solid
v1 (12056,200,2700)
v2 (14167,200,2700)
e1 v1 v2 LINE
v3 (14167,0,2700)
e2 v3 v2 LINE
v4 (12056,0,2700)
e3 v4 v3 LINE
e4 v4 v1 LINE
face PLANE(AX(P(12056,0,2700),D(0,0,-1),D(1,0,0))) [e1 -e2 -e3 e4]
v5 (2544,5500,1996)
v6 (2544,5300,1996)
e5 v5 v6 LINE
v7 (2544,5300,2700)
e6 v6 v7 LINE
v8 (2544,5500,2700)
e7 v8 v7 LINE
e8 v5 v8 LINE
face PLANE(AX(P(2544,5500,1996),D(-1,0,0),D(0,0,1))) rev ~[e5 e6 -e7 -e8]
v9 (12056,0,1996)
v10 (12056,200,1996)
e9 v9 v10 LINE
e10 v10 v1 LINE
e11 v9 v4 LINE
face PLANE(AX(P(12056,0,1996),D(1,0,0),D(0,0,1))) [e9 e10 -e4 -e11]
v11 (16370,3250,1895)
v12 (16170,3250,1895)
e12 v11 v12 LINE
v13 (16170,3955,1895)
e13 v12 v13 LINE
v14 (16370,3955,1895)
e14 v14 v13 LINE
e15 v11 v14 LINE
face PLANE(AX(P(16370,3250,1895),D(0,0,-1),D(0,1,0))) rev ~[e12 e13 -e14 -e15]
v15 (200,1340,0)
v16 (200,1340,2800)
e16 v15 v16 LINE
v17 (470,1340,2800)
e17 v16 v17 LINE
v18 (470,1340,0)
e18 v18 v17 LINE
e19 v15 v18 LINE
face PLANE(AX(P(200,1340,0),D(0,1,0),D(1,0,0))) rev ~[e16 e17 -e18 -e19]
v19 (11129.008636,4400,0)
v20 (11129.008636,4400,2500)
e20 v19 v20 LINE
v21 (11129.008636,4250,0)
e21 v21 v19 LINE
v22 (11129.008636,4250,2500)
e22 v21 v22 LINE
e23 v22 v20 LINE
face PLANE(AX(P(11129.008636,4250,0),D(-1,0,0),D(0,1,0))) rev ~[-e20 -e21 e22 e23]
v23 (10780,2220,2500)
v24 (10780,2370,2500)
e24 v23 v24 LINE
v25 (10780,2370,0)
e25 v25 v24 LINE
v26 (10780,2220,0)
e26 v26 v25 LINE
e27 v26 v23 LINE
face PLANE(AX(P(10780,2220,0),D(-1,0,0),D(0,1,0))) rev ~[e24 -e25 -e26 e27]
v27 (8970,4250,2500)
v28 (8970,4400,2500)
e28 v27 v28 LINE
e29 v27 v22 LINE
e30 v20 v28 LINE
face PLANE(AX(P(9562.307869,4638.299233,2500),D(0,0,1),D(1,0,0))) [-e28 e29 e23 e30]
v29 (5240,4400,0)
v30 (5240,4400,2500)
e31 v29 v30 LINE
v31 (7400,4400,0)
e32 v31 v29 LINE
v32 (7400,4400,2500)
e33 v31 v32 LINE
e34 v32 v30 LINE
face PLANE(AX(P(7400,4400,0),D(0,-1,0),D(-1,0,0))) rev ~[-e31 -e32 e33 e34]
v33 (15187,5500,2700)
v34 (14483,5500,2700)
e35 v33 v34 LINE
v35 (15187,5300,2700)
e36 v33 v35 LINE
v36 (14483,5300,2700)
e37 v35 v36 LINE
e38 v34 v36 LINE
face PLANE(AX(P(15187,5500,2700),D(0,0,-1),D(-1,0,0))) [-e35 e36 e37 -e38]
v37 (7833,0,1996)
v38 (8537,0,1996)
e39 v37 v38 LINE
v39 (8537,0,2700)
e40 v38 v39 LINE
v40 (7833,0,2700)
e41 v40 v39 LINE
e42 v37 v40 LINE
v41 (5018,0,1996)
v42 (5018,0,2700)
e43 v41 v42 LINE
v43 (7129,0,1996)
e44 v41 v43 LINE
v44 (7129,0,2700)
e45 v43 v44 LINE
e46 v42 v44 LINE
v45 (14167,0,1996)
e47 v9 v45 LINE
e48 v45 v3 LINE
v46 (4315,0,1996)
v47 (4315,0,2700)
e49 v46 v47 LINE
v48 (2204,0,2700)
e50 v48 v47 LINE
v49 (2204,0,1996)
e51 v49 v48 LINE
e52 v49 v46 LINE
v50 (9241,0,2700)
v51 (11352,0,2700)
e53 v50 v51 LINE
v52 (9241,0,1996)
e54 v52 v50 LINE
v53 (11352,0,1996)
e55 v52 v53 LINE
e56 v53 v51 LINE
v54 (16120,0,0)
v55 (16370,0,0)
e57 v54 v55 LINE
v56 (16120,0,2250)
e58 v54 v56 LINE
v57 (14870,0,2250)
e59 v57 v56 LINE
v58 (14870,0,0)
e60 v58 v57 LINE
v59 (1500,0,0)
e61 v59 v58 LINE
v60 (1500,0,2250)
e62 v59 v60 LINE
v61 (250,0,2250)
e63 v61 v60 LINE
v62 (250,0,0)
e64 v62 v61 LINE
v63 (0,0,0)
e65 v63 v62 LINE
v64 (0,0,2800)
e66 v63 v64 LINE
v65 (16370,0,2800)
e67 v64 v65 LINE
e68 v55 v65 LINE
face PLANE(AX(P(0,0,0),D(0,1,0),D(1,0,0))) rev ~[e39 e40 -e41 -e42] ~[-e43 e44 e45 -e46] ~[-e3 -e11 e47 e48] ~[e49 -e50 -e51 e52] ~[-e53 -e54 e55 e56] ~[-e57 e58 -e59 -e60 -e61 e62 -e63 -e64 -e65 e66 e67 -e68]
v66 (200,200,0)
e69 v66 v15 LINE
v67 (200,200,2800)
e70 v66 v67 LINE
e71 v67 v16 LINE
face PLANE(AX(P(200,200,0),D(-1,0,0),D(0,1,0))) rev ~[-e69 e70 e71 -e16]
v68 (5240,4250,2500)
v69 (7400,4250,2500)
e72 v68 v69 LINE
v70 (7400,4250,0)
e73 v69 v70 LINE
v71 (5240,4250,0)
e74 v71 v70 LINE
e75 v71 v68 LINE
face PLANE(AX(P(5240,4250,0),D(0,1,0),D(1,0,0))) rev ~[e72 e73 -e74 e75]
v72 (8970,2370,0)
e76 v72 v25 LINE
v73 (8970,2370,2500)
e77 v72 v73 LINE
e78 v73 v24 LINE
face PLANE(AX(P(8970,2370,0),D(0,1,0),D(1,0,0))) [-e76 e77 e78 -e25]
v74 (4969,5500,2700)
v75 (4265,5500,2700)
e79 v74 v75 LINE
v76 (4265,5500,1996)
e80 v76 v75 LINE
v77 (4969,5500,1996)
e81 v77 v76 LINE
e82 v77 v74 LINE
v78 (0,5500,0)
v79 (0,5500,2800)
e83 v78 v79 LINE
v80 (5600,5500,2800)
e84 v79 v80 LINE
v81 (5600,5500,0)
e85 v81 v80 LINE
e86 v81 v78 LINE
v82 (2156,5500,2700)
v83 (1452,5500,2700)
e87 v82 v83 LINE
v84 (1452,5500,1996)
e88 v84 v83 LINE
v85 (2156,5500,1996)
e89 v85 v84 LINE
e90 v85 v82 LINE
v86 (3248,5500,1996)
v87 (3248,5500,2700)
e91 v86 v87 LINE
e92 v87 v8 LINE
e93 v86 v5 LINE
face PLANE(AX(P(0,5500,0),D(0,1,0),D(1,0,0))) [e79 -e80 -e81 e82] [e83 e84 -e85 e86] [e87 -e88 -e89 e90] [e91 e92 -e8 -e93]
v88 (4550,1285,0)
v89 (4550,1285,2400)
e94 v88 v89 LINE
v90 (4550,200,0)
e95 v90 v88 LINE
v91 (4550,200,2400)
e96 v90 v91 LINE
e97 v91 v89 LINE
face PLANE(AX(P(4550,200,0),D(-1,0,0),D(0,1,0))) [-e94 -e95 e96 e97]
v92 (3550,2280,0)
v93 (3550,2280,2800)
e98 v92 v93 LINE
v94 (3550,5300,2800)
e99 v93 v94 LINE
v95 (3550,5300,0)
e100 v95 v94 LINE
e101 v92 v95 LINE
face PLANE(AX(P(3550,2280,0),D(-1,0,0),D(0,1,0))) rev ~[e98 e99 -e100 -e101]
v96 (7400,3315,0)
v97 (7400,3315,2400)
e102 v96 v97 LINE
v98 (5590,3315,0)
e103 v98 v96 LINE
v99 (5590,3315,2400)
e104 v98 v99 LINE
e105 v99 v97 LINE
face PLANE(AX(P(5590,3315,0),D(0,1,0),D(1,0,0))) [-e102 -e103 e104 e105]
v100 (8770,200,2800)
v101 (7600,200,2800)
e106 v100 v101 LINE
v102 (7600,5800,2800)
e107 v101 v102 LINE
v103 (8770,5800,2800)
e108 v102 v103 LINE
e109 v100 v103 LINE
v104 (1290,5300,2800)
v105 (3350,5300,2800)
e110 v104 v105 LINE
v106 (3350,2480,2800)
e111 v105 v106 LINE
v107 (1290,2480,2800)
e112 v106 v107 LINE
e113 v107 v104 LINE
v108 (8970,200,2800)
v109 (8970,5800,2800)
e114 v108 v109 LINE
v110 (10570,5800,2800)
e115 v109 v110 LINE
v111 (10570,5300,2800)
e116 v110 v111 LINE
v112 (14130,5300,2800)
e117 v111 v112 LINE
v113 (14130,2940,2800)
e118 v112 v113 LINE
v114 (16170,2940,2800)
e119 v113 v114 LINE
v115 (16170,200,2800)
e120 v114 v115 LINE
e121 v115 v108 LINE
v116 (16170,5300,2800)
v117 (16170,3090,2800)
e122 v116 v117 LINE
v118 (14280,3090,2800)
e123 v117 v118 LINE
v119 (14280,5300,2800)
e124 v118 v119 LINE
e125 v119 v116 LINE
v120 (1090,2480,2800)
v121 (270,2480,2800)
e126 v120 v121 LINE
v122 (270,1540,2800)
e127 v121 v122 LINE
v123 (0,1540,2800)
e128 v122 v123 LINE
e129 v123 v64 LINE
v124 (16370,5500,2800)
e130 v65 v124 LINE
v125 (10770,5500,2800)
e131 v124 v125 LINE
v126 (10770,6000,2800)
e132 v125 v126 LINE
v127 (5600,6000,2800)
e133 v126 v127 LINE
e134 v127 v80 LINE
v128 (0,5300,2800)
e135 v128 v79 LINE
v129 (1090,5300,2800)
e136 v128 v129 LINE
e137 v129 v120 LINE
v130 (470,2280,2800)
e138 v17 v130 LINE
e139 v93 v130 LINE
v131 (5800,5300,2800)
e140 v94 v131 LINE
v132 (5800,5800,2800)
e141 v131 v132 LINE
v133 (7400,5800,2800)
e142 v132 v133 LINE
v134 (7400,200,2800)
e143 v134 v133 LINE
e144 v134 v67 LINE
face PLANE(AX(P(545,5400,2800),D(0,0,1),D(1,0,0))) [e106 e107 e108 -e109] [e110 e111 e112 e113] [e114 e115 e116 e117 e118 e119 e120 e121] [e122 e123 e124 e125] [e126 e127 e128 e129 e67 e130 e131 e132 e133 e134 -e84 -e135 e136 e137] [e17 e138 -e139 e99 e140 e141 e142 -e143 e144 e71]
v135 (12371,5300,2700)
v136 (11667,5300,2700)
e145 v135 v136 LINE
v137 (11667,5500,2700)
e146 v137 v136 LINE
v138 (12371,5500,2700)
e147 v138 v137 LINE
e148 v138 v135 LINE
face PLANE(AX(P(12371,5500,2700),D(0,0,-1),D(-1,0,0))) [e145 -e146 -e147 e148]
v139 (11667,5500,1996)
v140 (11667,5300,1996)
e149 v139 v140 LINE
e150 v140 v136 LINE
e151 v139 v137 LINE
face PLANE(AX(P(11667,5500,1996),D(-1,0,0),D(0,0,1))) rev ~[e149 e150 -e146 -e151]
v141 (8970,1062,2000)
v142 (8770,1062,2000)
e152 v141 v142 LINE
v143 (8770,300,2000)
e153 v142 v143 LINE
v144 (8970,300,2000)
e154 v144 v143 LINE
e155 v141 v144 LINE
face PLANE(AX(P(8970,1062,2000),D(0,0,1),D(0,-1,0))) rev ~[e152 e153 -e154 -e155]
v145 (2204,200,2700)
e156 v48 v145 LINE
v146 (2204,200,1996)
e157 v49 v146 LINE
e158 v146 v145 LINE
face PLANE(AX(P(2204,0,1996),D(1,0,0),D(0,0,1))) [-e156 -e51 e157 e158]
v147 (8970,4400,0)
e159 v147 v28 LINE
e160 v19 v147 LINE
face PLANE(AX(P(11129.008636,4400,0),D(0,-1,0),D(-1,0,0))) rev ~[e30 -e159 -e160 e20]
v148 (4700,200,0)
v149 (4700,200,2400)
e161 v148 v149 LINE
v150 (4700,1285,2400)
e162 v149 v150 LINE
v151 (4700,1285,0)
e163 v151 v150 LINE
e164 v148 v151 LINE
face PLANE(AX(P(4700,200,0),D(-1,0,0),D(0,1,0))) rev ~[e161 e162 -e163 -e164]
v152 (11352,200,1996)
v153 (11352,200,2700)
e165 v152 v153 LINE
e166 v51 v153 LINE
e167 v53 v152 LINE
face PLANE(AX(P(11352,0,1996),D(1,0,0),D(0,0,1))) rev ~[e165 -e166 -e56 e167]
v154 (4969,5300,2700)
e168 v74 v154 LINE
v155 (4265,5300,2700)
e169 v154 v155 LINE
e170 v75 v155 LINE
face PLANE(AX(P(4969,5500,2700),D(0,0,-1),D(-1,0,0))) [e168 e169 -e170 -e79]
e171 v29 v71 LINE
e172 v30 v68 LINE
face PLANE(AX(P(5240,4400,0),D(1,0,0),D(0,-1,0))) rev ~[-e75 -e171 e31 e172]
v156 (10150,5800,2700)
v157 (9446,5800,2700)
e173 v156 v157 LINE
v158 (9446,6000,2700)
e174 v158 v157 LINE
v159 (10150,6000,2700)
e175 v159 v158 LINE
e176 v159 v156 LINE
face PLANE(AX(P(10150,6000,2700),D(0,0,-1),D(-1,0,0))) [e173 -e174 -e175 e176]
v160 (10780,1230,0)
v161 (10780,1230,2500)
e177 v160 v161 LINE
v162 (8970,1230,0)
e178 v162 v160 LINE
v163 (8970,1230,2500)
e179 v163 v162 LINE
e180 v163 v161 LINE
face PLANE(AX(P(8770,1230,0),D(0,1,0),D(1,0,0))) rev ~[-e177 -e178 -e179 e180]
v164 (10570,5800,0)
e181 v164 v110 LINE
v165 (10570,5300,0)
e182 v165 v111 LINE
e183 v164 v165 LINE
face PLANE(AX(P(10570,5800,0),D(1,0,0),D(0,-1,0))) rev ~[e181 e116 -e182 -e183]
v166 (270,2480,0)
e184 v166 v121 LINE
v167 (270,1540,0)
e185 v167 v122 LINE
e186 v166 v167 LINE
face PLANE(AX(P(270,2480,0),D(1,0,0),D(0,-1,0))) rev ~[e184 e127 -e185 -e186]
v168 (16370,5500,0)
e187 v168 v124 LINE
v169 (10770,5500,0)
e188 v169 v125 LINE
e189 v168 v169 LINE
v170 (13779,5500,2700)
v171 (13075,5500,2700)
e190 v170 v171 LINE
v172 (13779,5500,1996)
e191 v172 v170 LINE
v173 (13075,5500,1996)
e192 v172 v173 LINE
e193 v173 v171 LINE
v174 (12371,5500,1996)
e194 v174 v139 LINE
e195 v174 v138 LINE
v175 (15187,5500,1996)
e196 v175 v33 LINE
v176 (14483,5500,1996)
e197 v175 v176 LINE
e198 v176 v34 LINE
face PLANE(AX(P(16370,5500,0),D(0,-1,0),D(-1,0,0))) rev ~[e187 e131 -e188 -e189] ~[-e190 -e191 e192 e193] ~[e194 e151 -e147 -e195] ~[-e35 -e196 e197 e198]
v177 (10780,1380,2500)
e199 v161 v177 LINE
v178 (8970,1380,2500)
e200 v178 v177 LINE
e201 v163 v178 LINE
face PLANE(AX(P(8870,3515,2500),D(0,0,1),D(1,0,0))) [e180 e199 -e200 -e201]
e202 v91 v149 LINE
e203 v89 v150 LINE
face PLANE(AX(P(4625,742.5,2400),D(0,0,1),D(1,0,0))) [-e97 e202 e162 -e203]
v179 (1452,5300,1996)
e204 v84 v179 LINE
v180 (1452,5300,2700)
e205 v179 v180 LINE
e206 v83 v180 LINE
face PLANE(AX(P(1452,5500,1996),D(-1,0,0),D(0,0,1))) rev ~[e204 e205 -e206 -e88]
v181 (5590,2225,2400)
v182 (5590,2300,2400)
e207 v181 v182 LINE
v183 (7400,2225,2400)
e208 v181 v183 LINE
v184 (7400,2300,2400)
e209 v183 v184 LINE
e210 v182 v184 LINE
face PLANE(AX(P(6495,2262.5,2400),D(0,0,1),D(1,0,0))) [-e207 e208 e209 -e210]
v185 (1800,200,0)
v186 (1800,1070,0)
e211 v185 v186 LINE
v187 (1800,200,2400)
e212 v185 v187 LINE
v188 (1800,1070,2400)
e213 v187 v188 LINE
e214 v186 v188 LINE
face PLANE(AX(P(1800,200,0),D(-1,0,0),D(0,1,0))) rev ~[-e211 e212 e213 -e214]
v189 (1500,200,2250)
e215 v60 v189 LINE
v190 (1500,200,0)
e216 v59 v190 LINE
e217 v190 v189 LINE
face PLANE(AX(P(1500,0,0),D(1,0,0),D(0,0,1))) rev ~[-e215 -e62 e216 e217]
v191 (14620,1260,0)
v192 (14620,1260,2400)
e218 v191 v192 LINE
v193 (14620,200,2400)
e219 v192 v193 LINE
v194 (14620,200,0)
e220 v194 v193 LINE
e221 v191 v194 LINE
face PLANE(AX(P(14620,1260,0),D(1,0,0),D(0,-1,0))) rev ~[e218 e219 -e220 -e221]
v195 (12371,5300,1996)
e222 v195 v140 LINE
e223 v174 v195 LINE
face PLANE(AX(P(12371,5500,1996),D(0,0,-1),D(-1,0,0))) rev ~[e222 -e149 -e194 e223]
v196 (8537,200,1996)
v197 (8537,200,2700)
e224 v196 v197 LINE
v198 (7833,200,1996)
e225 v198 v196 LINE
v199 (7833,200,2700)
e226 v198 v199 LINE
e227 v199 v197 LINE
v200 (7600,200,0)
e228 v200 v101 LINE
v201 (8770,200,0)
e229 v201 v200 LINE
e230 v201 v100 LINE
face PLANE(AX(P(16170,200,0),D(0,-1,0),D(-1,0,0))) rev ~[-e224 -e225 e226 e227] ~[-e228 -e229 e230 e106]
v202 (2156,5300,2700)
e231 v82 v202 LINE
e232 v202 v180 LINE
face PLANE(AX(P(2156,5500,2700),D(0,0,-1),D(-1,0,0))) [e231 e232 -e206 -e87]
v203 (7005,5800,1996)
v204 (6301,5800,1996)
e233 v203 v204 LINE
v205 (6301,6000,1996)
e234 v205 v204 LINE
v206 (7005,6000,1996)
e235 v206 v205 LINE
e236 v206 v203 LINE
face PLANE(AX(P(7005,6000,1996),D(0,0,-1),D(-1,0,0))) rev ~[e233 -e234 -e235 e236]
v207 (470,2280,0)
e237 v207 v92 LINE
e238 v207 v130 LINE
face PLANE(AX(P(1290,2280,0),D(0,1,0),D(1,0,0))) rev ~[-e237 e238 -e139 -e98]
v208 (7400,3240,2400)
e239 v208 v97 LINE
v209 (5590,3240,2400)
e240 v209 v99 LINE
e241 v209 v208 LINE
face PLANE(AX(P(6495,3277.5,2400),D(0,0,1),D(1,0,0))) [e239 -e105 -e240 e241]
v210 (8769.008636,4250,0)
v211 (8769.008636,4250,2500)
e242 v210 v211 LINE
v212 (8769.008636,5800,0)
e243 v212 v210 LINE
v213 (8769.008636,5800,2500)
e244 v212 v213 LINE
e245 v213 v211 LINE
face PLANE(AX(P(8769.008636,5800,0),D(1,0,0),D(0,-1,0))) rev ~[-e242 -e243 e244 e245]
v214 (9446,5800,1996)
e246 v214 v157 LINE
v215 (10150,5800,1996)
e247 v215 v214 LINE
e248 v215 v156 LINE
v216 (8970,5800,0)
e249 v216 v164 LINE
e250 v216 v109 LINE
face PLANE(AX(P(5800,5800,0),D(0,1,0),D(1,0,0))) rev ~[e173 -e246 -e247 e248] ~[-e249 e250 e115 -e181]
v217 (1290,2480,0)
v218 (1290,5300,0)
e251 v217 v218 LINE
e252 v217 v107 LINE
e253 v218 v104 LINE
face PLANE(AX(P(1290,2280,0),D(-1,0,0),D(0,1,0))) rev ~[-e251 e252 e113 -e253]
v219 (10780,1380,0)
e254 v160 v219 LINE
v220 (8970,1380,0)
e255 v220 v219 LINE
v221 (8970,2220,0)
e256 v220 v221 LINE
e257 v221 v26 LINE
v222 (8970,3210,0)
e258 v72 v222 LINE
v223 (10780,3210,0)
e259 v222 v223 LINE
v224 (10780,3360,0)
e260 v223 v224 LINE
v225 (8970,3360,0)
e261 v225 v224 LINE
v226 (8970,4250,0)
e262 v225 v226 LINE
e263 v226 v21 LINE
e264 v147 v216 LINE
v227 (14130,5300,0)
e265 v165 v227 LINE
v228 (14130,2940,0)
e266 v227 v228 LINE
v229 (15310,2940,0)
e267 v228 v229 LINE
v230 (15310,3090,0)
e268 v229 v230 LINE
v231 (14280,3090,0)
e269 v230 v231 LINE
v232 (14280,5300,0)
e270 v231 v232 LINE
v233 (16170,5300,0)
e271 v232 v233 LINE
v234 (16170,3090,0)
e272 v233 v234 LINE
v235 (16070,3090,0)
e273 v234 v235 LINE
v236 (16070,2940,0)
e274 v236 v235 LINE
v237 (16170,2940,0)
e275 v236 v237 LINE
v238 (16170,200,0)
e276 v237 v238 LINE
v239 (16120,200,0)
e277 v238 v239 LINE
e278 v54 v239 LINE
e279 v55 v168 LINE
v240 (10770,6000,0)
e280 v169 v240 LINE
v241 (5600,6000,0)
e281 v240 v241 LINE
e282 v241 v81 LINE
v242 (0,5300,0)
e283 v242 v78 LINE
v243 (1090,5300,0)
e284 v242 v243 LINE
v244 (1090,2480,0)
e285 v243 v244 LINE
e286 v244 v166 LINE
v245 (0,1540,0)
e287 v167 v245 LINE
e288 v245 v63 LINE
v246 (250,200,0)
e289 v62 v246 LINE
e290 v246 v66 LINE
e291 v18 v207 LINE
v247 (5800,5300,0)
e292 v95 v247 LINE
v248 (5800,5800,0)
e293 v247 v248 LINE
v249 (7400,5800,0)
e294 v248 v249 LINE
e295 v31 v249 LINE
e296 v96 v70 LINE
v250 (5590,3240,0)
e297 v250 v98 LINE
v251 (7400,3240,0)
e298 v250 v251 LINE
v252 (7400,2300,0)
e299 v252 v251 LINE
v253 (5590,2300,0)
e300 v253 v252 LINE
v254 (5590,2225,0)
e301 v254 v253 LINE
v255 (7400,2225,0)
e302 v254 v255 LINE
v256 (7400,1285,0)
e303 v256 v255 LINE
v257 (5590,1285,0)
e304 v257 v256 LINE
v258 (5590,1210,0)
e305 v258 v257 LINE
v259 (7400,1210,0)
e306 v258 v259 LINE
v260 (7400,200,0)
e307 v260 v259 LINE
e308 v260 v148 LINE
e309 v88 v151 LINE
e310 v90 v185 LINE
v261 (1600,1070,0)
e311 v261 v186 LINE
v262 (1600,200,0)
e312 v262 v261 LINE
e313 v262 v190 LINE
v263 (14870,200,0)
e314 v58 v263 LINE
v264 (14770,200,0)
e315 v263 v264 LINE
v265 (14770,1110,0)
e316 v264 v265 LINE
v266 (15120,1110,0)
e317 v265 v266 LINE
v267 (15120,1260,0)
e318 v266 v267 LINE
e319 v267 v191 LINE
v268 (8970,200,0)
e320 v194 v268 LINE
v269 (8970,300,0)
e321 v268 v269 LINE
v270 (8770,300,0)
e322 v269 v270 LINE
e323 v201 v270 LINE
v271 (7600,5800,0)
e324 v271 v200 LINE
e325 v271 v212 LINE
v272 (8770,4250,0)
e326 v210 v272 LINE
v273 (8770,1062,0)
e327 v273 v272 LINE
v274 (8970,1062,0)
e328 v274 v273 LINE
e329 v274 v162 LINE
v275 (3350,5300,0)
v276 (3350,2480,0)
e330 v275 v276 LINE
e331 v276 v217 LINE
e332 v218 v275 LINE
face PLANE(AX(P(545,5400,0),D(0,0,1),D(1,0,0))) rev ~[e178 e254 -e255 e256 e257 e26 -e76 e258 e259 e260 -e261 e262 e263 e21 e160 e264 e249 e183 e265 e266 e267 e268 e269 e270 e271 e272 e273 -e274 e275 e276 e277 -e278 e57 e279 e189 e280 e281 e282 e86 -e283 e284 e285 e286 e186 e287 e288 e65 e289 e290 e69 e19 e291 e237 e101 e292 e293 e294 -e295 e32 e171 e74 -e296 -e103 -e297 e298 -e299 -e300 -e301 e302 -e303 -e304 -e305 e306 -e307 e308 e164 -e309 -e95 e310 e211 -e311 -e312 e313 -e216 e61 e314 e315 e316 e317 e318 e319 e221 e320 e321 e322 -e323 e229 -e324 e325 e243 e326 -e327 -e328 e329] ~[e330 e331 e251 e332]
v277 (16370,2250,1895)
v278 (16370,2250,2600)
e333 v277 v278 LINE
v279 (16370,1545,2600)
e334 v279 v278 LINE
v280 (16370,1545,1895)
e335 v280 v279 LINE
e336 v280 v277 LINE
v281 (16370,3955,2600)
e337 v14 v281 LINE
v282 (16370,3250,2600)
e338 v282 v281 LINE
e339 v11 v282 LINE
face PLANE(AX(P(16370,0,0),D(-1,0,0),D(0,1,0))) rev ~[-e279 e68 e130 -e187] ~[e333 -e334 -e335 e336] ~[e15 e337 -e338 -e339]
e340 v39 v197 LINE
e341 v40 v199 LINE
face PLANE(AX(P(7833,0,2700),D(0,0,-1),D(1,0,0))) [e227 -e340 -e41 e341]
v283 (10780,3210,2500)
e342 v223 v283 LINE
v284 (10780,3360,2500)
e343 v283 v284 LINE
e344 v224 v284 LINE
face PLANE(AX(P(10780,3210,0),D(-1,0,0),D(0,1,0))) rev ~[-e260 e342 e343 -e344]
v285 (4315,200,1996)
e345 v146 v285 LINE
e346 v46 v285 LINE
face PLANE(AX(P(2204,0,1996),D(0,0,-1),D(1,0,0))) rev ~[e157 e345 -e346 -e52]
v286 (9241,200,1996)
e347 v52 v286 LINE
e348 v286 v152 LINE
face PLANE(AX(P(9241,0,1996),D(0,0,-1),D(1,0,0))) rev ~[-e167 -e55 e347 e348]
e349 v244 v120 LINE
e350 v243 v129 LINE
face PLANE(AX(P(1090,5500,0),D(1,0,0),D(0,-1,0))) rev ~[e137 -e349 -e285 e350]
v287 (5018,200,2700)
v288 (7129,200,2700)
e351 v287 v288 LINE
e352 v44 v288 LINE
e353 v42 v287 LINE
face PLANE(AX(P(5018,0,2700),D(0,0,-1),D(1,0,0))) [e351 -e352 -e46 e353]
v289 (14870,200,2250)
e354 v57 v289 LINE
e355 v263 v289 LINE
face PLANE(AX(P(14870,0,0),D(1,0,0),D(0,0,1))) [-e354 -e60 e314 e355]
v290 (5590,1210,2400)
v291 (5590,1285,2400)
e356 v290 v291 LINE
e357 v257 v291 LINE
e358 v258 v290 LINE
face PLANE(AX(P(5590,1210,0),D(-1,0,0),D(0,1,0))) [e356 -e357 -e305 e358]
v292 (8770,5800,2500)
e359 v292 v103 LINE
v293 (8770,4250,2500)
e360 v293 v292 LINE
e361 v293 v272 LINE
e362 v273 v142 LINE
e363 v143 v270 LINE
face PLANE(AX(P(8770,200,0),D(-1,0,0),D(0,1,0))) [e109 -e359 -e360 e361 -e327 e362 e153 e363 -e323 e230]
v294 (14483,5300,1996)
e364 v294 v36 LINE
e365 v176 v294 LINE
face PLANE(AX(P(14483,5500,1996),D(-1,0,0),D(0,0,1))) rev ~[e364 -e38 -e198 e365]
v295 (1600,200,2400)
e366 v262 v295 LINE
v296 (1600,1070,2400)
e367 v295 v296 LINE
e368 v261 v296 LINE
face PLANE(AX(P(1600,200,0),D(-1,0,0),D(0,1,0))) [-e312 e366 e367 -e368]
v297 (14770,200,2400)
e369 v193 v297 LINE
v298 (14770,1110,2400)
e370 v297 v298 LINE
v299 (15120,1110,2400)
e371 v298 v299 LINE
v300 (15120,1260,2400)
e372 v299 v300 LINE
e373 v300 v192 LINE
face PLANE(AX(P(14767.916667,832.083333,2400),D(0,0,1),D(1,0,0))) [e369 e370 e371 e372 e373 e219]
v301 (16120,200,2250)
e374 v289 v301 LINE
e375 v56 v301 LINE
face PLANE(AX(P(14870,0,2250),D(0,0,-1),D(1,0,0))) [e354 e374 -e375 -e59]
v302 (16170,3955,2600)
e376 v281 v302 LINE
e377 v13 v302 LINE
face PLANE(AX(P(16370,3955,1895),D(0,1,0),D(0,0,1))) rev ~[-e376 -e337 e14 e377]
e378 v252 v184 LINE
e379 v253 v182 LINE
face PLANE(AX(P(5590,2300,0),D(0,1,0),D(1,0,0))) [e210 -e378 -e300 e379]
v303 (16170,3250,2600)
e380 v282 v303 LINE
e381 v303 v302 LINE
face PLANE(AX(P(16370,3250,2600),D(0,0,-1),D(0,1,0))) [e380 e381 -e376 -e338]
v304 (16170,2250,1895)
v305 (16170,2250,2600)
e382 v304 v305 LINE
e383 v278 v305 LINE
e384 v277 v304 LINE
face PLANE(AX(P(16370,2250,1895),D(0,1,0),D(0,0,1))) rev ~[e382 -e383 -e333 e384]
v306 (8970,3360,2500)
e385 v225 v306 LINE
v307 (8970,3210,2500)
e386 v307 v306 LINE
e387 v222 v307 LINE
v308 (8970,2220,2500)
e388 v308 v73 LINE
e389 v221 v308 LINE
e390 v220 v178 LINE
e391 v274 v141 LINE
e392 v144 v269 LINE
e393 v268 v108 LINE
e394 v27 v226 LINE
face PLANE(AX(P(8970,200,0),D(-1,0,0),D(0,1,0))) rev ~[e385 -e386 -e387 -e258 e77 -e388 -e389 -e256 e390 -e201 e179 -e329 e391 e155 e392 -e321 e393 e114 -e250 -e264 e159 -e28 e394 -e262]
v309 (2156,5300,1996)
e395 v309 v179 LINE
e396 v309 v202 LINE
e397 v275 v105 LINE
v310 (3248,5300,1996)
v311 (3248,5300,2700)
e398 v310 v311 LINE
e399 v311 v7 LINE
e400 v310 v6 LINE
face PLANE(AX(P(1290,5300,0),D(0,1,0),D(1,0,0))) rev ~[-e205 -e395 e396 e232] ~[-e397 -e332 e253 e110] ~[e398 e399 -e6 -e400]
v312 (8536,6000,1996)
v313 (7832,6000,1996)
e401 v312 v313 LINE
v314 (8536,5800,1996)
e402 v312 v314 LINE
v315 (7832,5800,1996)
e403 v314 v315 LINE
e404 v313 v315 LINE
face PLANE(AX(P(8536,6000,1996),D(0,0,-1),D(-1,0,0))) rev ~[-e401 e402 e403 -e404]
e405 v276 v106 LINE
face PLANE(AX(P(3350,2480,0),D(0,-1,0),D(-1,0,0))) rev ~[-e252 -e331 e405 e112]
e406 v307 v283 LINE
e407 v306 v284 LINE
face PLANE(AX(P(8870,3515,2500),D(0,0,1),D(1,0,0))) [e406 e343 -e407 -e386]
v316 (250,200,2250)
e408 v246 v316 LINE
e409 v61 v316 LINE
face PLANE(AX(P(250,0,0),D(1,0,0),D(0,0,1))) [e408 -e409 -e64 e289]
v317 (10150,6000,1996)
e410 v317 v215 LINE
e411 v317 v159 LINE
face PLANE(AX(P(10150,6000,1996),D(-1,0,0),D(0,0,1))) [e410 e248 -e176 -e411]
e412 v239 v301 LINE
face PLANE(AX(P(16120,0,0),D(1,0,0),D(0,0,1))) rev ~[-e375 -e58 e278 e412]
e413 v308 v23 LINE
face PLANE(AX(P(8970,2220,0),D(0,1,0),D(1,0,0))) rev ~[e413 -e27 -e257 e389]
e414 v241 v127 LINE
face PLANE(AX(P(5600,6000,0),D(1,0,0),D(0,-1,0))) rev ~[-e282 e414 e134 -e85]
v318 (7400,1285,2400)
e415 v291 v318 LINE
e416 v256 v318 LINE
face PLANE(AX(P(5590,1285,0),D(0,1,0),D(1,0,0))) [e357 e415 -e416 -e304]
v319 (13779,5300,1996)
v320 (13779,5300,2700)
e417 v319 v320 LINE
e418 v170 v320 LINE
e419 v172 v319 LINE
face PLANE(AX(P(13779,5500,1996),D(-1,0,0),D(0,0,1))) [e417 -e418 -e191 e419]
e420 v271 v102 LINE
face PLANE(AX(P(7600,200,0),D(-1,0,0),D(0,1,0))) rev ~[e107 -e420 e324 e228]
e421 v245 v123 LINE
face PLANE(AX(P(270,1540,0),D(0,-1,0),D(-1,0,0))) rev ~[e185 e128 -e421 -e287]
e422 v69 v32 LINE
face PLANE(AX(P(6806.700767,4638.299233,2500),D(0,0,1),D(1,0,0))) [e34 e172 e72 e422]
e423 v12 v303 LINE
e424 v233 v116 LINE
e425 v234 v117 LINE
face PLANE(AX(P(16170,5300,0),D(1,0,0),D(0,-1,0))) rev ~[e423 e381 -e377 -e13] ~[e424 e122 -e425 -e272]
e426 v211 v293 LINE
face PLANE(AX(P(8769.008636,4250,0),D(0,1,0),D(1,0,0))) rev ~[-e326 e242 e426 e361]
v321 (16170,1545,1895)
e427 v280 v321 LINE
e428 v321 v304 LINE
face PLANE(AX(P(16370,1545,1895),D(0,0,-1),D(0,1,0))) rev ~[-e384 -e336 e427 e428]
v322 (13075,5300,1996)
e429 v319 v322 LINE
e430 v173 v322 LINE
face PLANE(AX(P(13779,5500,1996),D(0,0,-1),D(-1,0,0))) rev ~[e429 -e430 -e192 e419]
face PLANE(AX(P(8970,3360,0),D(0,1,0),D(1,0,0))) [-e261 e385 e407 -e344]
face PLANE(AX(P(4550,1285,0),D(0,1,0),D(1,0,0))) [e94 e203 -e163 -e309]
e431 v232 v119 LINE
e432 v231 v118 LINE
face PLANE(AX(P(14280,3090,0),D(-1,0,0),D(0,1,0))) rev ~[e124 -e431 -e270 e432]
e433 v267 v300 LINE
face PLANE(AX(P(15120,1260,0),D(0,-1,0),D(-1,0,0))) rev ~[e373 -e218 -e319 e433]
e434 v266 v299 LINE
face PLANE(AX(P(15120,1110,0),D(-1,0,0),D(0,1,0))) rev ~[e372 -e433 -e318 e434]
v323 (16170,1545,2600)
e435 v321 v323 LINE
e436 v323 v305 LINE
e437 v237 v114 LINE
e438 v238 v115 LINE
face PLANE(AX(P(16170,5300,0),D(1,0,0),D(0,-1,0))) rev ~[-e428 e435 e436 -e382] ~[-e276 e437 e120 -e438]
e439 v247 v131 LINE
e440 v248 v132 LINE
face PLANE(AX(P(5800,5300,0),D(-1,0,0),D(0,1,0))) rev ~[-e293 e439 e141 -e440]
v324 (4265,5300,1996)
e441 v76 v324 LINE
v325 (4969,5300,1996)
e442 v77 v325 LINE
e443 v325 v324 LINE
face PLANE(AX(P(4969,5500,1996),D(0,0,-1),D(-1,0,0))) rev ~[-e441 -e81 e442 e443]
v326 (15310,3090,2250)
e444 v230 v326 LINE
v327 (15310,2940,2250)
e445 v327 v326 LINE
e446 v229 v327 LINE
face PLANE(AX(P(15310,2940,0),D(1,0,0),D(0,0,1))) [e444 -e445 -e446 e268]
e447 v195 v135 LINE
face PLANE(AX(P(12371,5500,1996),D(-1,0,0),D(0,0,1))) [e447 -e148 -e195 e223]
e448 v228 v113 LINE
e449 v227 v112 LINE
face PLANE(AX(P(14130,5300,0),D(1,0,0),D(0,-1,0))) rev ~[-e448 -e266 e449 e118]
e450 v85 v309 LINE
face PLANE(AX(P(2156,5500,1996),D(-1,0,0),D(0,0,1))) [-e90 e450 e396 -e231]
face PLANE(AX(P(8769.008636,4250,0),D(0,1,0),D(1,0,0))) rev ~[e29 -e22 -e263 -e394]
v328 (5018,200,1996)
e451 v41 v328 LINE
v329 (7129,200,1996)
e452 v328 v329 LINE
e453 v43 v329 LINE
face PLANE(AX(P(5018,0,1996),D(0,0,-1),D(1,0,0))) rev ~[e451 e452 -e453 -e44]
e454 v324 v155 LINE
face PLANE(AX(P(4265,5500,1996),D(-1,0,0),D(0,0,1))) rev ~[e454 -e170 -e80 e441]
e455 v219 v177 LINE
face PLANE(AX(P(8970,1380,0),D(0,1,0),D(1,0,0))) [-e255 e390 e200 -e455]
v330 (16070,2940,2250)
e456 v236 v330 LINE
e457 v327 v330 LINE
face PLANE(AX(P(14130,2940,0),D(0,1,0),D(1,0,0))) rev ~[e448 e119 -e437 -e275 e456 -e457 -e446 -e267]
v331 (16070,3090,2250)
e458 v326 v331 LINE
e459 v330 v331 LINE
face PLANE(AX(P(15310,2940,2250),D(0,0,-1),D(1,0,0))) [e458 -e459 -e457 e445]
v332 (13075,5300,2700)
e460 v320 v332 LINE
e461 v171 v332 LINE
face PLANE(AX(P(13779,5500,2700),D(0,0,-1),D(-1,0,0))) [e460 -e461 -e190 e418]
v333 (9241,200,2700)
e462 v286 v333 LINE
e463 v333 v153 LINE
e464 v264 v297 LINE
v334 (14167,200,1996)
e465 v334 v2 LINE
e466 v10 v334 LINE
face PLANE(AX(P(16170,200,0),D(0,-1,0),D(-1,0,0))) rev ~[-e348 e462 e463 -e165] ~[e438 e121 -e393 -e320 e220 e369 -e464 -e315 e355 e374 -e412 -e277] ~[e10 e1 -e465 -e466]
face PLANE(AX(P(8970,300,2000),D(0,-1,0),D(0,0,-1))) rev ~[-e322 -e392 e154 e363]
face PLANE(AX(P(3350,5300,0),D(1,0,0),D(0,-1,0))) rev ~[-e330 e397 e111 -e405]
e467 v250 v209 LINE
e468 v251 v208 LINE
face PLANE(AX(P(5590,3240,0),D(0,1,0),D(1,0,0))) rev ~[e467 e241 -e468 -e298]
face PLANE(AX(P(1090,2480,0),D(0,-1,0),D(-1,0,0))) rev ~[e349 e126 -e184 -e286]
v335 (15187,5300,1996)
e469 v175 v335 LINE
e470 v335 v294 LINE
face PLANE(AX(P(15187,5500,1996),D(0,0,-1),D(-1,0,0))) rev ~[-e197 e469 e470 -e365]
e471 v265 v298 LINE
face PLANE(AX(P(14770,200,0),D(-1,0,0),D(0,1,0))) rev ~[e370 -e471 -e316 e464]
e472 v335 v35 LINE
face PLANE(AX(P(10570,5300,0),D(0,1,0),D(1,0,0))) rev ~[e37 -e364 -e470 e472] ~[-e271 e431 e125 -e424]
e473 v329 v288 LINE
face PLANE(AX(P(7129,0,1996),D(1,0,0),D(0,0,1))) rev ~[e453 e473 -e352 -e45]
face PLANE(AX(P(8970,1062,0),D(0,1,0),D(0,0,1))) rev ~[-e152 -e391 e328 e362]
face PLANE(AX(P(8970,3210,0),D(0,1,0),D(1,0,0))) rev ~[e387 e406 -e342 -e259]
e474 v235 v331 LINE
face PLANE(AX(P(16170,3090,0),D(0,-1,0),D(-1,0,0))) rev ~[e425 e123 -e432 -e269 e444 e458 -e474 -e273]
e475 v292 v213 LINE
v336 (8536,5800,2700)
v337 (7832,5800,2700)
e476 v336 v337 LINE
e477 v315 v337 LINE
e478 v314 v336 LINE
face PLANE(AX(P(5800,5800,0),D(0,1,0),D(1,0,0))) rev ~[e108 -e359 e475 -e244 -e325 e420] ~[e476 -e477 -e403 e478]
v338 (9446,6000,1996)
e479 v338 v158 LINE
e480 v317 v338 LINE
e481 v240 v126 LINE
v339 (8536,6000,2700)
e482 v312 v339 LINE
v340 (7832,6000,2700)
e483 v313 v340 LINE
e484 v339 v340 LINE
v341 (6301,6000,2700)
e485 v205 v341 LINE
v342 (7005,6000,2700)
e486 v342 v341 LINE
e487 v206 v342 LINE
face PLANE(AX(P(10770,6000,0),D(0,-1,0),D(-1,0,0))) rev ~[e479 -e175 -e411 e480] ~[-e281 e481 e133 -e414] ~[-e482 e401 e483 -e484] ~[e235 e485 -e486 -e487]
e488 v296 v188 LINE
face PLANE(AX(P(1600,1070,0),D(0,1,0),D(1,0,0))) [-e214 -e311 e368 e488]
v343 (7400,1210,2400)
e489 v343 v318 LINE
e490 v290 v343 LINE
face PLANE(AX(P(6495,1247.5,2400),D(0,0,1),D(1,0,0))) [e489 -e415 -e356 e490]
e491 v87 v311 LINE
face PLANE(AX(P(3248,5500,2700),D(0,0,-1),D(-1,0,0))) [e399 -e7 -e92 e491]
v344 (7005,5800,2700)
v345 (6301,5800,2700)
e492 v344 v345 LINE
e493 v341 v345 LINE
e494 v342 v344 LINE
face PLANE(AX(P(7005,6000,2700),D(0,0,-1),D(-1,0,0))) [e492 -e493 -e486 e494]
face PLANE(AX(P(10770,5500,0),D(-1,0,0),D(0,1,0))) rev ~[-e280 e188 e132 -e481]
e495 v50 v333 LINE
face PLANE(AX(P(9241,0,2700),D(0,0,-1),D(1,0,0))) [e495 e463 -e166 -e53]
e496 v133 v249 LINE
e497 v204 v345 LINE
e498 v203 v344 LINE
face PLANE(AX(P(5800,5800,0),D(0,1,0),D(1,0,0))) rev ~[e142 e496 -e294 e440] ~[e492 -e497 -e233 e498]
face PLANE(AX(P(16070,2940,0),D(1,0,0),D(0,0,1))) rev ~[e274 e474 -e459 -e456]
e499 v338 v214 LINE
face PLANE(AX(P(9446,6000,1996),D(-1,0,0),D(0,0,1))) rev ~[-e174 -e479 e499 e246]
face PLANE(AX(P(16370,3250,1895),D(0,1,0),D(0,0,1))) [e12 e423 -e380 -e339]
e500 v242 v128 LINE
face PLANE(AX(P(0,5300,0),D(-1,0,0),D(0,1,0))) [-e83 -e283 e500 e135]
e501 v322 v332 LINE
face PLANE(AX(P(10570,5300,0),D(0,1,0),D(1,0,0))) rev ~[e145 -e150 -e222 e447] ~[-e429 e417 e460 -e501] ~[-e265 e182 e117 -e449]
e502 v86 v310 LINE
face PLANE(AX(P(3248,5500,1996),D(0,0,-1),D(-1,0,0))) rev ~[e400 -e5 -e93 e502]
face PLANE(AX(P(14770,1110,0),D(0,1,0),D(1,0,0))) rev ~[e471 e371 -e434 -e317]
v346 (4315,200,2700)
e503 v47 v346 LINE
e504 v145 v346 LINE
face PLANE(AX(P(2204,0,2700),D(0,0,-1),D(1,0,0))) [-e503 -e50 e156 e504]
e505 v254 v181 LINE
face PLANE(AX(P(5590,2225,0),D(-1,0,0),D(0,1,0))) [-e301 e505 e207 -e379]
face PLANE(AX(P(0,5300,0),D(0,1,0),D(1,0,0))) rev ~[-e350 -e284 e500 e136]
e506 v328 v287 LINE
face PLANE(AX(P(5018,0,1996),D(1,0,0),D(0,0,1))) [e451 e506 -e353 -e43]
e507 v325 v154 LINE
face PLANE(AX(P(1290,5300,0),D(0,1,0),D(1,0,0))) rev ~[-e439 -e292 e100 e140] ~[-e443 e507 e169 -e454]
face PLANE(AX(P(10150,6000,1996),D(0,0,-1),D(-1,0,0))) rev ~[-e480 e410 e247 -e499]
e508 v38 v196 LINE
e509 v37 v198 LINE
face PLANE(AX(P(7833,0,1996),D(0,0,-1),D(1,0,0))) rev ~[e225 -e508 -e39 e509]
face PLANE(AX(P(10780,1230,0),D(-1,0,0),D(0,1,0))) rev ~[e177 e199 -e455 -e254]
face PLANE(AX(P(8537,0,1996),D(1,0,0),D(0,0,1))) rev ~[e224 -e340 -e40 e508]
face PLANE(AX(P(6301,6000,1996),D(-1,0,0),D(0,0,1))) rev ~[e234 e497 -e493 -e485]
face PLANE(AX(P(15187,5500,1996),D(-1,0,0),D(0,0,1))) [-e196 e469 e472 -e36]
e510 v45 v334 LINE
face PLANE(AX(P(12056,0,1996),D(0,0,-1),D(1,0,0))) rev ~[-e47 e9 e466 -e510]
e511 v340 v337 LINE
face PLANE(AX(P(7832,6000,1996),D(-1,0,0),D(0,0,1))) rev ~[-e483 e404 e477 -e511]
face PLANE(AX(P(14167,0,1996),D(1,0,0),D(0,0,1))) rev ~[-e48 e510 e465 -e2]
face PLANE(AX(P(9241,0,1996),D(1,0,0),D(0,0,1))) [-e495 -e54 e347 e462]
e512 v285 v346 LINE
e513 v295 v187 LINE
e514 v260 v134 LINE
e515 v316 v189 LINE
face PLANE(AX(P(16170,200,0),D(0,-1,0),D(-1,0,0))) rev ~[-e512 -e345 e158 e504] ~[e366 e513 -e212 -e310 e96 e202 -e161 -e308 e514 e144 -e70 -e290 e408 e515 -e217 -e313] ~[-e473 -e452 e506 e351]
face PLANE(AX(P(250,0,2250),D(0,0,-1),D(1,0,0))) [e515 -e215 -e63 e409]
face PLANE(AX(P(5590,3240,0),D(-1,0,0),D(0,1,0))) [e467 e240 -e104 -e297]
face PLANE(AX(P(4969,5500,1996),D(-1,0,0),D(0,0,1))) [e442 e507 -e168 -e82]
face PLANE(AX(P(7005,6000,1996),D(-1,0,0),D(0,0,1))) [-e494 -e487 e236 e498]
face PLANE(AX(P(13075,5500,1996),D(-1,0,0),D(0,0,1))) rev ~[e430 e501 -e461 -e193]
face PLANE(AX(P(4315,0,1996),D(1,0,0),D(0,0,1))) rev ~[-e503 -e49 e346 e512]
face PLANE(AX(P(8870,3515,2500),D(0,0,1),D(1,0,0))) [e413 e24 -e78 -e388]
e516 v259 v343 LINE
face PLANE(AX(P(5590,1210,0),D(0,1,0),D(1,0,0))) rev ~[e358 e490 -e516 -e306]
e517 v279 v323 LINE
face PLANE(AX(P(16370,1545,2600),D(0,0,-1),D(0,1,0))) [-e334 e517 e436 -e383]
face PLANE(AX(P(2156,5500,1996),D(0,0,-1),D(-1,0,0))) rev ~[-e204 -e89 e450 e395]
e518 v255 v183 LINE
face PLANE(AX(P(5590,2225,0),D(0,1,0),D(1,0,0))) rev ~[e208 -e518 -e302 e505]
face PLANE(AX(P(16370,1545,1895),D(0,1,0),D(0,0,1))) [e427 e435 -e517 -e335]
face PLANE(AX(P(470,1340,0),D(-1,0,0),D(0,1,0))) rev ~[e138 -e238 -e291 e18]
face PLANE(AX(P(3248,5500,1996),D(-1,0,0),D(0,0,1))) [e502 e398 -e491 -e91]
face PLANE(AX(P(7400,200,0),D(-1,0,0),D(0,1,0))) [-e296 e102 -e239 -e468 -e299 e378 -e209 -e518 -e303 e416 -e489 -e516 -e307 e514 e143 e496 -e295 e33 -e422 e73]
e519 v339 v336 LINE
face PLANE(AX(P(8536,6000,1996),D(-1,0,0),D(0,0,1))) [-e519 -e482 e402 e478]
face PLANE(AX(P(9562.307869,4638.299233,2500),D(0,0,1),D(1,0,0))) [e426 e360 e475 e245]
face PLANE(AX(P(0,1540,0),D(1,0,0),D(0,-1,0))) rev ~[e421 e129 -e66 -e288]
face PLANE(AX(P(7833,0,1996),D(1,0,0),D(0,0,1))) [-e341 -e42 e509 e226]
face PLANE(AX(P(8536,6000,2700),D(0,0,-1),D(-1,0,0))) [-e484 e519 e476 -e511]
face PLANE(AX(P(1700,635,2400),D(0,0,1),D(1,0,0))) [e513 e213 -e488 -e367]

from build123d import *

# Parameters (mm, degrees)
F1_DEPTH  = 2800
F2_W      = 1250
F2_H      = 2250
F3_DEPTH  = 200
F4_W      = 1250
F4_H      = 2250
F5_DEPTH  = 200
F7_DEPTH  = 2800
F8_W      = 200
F8_H      = 5600
F10_DEPTH = 2800
F9_W      = 200
F9_H      = 5600
F11_DEPTH = 2800
F14_DEPTH = 2500
F16_DEPTH = 2800
F17_W     = 2111
F17_H     = 704
F17_W_2   = 704
F18_DEPTH = 200
F19_DEPTH = 2500
F20_W     = 704
F20_H     = 704
F21_DEPTH = 200
F22_W     = 704
F22_H     = 704
F23_DEPTH = 200
F24_W     = 704
F24_H     = 704
F25_DEPTH = 200
F28_W     = 760
F28_H     = 2250
F29_DEPTH = 150
F30_W     = 705
F30_H     = 705
F31_DEPTH = 200
F32_W     = 1810
F32_H     = 150
F33_DEPTH = 2500
F35_DEPTH = 200
F36_W     = 200
F36_H     = 870
F37_DEPTH = 2400
F38_W     = 150
F38_H     = 1085
F39_DEPTH = 2400
F40_W     = 1810
F40_H     = 75
F41_DEPTH = 2400
F42_W     = 1810
F42_H     = 75
F43_DEPTH = 2400
F45_DEPTH = 2400
F46_W     = 1090
F46_H     = 200
F47_DEPTH = 2800


with BuildPart() as f1:
    # F0 (on Top) → F1 (new body)
    with BuildSketch(Plane.XY):
        Polygon((0, 200), (0, 0), (16370, 0), (16370, 5500), (10770, 5500), (10770, 6000), (5600, 6000), (5600, 5500), (1090, 5500), (1090, 5300), (1090, 2480), (270, 2480), (270, 1540), (0, 1540), align=None)
        Polygon((1290, 5300), (5800, 5300), (5800, 5800), (10570, 5800), (10570, 5300), (16170, 5300), (16170, 200), (200, 200), (200, 1340), (470, 1340), (470, 2280), (936.407268, 2280), (1290, 2280), align=None, mode=Mode.SUBTRACT)
    extrude(amount=F1_DEPTH)

    # F2 (on face) → F3 (cut)
    with BuildSketch(Plane.XZ):
        with Locations((875, 1125)):
            Rectangle(F2_W, F2_H)
    extrude(amount=-F3_DEPTH, mode=Mode.SUBTRACT)

    # F4 (on face) → F5 (cut)
    with BuildSketch(Plane.XZ):
        with Locations((15495, 1125)):
            Rectangle(F4_W, F4_H)
    extrude(amount=-F5_DEPTH, mode=Mode.SUBTRACT)

    # F6 (on Top) → F7 (join)
    with BuildSketch(Plane.XY):
        Polygon((1290, 2480), (1290, 2280), (3550, 2280), (3550, 5300), (3350, 5300), (3350, 2480), align=None)
    extrude(amount=F7_DEPTH)

    # F8 (on Top) → F10 (join)
    with BuildSketch(Plane.XY):
        with Locations((7500, 3000)):
            Rectangle(F8_W, F8_H)
    extrude(amount=F10_DEPTH)

    # F9 (on Top) → F11 (join)
    with BuildSketch(Plane.XY):
        with Locations((8870, 3000)):
            Rectangle(F9_W, F9_H)
    extrude(amount=F11_DEPTH)

    # F13 (on Top) → F14 (join)
    with BuildSketch(Plane.XY):
        Polygon((7600, 5800), (7400, 5800), (7400, 4400), (5240, 4400), (5240, 4250), (7600, 4250), align=None)
    extrude(amount=F14_DEPTH)

    # F15 (on Top) → F16 (join)
    with BuildSketch(Plane.XY):
        Polygon((14280, 5300), (14130, 5300), (14130, 2940), (16170, 2940), (16170, 3090), (14280, 3090), align=None)
    extrude(amount=F16_DEPTH)

    # F17 (on face) → F18 (cut)
    with BuildSketch(Plane.XZ):
        with Locations((3259.5, 2348)):
            Rectangle(F17_W, F17_H)
        with Locations((6073.5, 2348)):
            Rectangle(F17_W, F17_H)
        with Locations((8185, 2348)):
            Rectangle(F17_W_2, F17_H)
        with Locations((10296.5, 2348)):
            Rectangle(F17_W, F17_H)
        with Locations((13111.5, 2348)):
            Rectangle(F17_W, F17_H)
    extrude(amount=-F18_DEPTH, mode=Mode.SUBTRACT)

    # F12 (on Top) → F19 (join)
    with BuildSketch(Plane.XY):
        Polygon((8969.008636, 4400), (8969.008636, 5800), (8769.008636, 5800), (8769.008636, 4250), (11129.008636, 4250), (11129.008636, 4400), align=None)
    extrude(amount=F19_DEPTH)

    # F20 (on face) → F21 (cut)
    with BuildSketch(Plane(origin=(0, 5500, 0), x_dir=(-1, 0, 0), z_dir=(0, 1, 0))):
        with Locations((-14835, 2348)):
            Rectangle(F20_W, F20_H)
        with Locations((-13427, 2348)):
            Rectangle(F20_W, F20_H)
        with Locations((-12019, 2348)):
            Rectangle(F20_W, F20_H)
    extrude(amount=-F21_DEPTH, mode=Mode.SUBTRACT)

    # F22 (on face) → F23 (cut)
    with BuildSketch(Plane(origin=(0, 6000, 0), x_dir=(-1, 0, 0), z_dir=(0, 1, 0))):
        with Locations((-9798, 2348)):
            Rectangle(F22_W, F22_H)
        with Locations((-8184, 2348)):
            Rectangle(F22_W, F22_H)
        with Locations((-6653, 2348)):
            Rectangle(F22_W, F22_H)
    extrude(amount=-F23_DEPTH, mode=Mode.SUBTRACT)

    # F24 (on face) → F25 (cut)
    with BuildSketch(Plane(origin=(0, 5500, 0), x_dir=(-1, 0, 0), z_dir=(0, 1, 0))):
        with Locations((-4617, 2348)):
            Rectangle(F24_W, F24_H)
        with Locations((-2896, 2348)):
            Rectangle(F24_W, F24_H)
        with Locations((-1804, 2348)):
            Rectangle(F24_W, F24_H)
    extrude(amount=-F25_DEPTH, mode=Mode.SUBTRACT)

    # F28 (on face) → F29 (cut)
    with BuildSketch(Plane.XZ.offset(-2940)):
        with Locations((15690, 1125)):
            Rectangle(F28_W, F28_H)
    extrude(amount=-F29_DEPTH, mode=Mode.SUBTRACT)

    # F30 (on face) → F31 (cut)
    with BuildSketch(Plane.YZ.offset(16370)):
        with Locations((1897.5, 2247.5)):
            Rectangle(F30_W, F30_H)
        with Locations((3602.5, 2247.5)):
            Rectangle(F30_W, F30_H)
    extrude(amount=-F31_DEPTH, mode=Mode.SUBTRACT)

    # F32 (on Top) → F33 (join)
    with BuildSketch(Plane.XY):
        Polygon((8970, 3360), (8970, 5800), (8969.008636, 5800), (8770, 5800), (8770, 1230), (8970, 1230), (8970, 1380), (8970, 2220), (8970, 2370), (8970, 3210), align=None)
        with Locations((9875, 3285)):
            Rectangle(F32_W, F32_H)
        with Locations((9875, 2295)):
            Rectangle(F32_W, F32_H)
        with Locations((9875, 1305)):
            Rectangle(F32_W, F32_H)
    extrude(amount=F33_DEPTH)

    # F34 (on face) → F35 (cut)
    with BuildSketch(Plane.YZ.offset(8970)):
        Polygon((300, 2000), (300, 0), (962, 0), (1062, 0), (1062, 2000), align=None)
    extrude(amount=-F35_DEPTH, mode=Mode.SUBTRACT)

    # F36 (on Top) → F37 (join)
    with BuildSketch(Plane.XY):
        with Locations((1700, 635)):
            Rectangle(F36_W, F36_H)
    extrude(amount=F37_DEPTH)

    # F38 (on Top) → F39 (join)
    with BuildSketch(Plane.XY):
        with Locations((4625, 742.5)):
            Rectangle(F38_W, F38_H)
    extrude(amount=F39_DEPTH)

    # F40 (on Top) → F41 (join)
    with BuildSketch(Plane.XY):
        with Locations((6495, 1247.5)):
            Rectangle(F40_W, F40_H)
    extrude(amount=F41_DEPTH)

    # F42 (on Top) → F43 (join)
    with BuildSketch(Plane.XY):
        with Locations((6495, 2262.5)):
            Rectangle(F42_W, F42_H)
        with Locations((6495, 3277.5)):
            Rectangle(F42_W, F42_H)
    extrude(amount=F43_DEPTH)

    # F44 (on Top) → F45 (join)
    with BuildSketch(Plane.XY):
        Polygon((14620, 200), (14770, 200), (14770, 1110), (15120, 1110), (15120, 1260), (14620, 1260), align=None)
    extrude(amount=F45_DEPTH)

    # F46 (on Top) → F47 (join)
    with BuildSketch(Plane.XY):
        with Locations((545, 5400)):
            Rectangle(F46_W, F46_H)
    extrude(amount=F47_DEPTH)


solid = f1.part
